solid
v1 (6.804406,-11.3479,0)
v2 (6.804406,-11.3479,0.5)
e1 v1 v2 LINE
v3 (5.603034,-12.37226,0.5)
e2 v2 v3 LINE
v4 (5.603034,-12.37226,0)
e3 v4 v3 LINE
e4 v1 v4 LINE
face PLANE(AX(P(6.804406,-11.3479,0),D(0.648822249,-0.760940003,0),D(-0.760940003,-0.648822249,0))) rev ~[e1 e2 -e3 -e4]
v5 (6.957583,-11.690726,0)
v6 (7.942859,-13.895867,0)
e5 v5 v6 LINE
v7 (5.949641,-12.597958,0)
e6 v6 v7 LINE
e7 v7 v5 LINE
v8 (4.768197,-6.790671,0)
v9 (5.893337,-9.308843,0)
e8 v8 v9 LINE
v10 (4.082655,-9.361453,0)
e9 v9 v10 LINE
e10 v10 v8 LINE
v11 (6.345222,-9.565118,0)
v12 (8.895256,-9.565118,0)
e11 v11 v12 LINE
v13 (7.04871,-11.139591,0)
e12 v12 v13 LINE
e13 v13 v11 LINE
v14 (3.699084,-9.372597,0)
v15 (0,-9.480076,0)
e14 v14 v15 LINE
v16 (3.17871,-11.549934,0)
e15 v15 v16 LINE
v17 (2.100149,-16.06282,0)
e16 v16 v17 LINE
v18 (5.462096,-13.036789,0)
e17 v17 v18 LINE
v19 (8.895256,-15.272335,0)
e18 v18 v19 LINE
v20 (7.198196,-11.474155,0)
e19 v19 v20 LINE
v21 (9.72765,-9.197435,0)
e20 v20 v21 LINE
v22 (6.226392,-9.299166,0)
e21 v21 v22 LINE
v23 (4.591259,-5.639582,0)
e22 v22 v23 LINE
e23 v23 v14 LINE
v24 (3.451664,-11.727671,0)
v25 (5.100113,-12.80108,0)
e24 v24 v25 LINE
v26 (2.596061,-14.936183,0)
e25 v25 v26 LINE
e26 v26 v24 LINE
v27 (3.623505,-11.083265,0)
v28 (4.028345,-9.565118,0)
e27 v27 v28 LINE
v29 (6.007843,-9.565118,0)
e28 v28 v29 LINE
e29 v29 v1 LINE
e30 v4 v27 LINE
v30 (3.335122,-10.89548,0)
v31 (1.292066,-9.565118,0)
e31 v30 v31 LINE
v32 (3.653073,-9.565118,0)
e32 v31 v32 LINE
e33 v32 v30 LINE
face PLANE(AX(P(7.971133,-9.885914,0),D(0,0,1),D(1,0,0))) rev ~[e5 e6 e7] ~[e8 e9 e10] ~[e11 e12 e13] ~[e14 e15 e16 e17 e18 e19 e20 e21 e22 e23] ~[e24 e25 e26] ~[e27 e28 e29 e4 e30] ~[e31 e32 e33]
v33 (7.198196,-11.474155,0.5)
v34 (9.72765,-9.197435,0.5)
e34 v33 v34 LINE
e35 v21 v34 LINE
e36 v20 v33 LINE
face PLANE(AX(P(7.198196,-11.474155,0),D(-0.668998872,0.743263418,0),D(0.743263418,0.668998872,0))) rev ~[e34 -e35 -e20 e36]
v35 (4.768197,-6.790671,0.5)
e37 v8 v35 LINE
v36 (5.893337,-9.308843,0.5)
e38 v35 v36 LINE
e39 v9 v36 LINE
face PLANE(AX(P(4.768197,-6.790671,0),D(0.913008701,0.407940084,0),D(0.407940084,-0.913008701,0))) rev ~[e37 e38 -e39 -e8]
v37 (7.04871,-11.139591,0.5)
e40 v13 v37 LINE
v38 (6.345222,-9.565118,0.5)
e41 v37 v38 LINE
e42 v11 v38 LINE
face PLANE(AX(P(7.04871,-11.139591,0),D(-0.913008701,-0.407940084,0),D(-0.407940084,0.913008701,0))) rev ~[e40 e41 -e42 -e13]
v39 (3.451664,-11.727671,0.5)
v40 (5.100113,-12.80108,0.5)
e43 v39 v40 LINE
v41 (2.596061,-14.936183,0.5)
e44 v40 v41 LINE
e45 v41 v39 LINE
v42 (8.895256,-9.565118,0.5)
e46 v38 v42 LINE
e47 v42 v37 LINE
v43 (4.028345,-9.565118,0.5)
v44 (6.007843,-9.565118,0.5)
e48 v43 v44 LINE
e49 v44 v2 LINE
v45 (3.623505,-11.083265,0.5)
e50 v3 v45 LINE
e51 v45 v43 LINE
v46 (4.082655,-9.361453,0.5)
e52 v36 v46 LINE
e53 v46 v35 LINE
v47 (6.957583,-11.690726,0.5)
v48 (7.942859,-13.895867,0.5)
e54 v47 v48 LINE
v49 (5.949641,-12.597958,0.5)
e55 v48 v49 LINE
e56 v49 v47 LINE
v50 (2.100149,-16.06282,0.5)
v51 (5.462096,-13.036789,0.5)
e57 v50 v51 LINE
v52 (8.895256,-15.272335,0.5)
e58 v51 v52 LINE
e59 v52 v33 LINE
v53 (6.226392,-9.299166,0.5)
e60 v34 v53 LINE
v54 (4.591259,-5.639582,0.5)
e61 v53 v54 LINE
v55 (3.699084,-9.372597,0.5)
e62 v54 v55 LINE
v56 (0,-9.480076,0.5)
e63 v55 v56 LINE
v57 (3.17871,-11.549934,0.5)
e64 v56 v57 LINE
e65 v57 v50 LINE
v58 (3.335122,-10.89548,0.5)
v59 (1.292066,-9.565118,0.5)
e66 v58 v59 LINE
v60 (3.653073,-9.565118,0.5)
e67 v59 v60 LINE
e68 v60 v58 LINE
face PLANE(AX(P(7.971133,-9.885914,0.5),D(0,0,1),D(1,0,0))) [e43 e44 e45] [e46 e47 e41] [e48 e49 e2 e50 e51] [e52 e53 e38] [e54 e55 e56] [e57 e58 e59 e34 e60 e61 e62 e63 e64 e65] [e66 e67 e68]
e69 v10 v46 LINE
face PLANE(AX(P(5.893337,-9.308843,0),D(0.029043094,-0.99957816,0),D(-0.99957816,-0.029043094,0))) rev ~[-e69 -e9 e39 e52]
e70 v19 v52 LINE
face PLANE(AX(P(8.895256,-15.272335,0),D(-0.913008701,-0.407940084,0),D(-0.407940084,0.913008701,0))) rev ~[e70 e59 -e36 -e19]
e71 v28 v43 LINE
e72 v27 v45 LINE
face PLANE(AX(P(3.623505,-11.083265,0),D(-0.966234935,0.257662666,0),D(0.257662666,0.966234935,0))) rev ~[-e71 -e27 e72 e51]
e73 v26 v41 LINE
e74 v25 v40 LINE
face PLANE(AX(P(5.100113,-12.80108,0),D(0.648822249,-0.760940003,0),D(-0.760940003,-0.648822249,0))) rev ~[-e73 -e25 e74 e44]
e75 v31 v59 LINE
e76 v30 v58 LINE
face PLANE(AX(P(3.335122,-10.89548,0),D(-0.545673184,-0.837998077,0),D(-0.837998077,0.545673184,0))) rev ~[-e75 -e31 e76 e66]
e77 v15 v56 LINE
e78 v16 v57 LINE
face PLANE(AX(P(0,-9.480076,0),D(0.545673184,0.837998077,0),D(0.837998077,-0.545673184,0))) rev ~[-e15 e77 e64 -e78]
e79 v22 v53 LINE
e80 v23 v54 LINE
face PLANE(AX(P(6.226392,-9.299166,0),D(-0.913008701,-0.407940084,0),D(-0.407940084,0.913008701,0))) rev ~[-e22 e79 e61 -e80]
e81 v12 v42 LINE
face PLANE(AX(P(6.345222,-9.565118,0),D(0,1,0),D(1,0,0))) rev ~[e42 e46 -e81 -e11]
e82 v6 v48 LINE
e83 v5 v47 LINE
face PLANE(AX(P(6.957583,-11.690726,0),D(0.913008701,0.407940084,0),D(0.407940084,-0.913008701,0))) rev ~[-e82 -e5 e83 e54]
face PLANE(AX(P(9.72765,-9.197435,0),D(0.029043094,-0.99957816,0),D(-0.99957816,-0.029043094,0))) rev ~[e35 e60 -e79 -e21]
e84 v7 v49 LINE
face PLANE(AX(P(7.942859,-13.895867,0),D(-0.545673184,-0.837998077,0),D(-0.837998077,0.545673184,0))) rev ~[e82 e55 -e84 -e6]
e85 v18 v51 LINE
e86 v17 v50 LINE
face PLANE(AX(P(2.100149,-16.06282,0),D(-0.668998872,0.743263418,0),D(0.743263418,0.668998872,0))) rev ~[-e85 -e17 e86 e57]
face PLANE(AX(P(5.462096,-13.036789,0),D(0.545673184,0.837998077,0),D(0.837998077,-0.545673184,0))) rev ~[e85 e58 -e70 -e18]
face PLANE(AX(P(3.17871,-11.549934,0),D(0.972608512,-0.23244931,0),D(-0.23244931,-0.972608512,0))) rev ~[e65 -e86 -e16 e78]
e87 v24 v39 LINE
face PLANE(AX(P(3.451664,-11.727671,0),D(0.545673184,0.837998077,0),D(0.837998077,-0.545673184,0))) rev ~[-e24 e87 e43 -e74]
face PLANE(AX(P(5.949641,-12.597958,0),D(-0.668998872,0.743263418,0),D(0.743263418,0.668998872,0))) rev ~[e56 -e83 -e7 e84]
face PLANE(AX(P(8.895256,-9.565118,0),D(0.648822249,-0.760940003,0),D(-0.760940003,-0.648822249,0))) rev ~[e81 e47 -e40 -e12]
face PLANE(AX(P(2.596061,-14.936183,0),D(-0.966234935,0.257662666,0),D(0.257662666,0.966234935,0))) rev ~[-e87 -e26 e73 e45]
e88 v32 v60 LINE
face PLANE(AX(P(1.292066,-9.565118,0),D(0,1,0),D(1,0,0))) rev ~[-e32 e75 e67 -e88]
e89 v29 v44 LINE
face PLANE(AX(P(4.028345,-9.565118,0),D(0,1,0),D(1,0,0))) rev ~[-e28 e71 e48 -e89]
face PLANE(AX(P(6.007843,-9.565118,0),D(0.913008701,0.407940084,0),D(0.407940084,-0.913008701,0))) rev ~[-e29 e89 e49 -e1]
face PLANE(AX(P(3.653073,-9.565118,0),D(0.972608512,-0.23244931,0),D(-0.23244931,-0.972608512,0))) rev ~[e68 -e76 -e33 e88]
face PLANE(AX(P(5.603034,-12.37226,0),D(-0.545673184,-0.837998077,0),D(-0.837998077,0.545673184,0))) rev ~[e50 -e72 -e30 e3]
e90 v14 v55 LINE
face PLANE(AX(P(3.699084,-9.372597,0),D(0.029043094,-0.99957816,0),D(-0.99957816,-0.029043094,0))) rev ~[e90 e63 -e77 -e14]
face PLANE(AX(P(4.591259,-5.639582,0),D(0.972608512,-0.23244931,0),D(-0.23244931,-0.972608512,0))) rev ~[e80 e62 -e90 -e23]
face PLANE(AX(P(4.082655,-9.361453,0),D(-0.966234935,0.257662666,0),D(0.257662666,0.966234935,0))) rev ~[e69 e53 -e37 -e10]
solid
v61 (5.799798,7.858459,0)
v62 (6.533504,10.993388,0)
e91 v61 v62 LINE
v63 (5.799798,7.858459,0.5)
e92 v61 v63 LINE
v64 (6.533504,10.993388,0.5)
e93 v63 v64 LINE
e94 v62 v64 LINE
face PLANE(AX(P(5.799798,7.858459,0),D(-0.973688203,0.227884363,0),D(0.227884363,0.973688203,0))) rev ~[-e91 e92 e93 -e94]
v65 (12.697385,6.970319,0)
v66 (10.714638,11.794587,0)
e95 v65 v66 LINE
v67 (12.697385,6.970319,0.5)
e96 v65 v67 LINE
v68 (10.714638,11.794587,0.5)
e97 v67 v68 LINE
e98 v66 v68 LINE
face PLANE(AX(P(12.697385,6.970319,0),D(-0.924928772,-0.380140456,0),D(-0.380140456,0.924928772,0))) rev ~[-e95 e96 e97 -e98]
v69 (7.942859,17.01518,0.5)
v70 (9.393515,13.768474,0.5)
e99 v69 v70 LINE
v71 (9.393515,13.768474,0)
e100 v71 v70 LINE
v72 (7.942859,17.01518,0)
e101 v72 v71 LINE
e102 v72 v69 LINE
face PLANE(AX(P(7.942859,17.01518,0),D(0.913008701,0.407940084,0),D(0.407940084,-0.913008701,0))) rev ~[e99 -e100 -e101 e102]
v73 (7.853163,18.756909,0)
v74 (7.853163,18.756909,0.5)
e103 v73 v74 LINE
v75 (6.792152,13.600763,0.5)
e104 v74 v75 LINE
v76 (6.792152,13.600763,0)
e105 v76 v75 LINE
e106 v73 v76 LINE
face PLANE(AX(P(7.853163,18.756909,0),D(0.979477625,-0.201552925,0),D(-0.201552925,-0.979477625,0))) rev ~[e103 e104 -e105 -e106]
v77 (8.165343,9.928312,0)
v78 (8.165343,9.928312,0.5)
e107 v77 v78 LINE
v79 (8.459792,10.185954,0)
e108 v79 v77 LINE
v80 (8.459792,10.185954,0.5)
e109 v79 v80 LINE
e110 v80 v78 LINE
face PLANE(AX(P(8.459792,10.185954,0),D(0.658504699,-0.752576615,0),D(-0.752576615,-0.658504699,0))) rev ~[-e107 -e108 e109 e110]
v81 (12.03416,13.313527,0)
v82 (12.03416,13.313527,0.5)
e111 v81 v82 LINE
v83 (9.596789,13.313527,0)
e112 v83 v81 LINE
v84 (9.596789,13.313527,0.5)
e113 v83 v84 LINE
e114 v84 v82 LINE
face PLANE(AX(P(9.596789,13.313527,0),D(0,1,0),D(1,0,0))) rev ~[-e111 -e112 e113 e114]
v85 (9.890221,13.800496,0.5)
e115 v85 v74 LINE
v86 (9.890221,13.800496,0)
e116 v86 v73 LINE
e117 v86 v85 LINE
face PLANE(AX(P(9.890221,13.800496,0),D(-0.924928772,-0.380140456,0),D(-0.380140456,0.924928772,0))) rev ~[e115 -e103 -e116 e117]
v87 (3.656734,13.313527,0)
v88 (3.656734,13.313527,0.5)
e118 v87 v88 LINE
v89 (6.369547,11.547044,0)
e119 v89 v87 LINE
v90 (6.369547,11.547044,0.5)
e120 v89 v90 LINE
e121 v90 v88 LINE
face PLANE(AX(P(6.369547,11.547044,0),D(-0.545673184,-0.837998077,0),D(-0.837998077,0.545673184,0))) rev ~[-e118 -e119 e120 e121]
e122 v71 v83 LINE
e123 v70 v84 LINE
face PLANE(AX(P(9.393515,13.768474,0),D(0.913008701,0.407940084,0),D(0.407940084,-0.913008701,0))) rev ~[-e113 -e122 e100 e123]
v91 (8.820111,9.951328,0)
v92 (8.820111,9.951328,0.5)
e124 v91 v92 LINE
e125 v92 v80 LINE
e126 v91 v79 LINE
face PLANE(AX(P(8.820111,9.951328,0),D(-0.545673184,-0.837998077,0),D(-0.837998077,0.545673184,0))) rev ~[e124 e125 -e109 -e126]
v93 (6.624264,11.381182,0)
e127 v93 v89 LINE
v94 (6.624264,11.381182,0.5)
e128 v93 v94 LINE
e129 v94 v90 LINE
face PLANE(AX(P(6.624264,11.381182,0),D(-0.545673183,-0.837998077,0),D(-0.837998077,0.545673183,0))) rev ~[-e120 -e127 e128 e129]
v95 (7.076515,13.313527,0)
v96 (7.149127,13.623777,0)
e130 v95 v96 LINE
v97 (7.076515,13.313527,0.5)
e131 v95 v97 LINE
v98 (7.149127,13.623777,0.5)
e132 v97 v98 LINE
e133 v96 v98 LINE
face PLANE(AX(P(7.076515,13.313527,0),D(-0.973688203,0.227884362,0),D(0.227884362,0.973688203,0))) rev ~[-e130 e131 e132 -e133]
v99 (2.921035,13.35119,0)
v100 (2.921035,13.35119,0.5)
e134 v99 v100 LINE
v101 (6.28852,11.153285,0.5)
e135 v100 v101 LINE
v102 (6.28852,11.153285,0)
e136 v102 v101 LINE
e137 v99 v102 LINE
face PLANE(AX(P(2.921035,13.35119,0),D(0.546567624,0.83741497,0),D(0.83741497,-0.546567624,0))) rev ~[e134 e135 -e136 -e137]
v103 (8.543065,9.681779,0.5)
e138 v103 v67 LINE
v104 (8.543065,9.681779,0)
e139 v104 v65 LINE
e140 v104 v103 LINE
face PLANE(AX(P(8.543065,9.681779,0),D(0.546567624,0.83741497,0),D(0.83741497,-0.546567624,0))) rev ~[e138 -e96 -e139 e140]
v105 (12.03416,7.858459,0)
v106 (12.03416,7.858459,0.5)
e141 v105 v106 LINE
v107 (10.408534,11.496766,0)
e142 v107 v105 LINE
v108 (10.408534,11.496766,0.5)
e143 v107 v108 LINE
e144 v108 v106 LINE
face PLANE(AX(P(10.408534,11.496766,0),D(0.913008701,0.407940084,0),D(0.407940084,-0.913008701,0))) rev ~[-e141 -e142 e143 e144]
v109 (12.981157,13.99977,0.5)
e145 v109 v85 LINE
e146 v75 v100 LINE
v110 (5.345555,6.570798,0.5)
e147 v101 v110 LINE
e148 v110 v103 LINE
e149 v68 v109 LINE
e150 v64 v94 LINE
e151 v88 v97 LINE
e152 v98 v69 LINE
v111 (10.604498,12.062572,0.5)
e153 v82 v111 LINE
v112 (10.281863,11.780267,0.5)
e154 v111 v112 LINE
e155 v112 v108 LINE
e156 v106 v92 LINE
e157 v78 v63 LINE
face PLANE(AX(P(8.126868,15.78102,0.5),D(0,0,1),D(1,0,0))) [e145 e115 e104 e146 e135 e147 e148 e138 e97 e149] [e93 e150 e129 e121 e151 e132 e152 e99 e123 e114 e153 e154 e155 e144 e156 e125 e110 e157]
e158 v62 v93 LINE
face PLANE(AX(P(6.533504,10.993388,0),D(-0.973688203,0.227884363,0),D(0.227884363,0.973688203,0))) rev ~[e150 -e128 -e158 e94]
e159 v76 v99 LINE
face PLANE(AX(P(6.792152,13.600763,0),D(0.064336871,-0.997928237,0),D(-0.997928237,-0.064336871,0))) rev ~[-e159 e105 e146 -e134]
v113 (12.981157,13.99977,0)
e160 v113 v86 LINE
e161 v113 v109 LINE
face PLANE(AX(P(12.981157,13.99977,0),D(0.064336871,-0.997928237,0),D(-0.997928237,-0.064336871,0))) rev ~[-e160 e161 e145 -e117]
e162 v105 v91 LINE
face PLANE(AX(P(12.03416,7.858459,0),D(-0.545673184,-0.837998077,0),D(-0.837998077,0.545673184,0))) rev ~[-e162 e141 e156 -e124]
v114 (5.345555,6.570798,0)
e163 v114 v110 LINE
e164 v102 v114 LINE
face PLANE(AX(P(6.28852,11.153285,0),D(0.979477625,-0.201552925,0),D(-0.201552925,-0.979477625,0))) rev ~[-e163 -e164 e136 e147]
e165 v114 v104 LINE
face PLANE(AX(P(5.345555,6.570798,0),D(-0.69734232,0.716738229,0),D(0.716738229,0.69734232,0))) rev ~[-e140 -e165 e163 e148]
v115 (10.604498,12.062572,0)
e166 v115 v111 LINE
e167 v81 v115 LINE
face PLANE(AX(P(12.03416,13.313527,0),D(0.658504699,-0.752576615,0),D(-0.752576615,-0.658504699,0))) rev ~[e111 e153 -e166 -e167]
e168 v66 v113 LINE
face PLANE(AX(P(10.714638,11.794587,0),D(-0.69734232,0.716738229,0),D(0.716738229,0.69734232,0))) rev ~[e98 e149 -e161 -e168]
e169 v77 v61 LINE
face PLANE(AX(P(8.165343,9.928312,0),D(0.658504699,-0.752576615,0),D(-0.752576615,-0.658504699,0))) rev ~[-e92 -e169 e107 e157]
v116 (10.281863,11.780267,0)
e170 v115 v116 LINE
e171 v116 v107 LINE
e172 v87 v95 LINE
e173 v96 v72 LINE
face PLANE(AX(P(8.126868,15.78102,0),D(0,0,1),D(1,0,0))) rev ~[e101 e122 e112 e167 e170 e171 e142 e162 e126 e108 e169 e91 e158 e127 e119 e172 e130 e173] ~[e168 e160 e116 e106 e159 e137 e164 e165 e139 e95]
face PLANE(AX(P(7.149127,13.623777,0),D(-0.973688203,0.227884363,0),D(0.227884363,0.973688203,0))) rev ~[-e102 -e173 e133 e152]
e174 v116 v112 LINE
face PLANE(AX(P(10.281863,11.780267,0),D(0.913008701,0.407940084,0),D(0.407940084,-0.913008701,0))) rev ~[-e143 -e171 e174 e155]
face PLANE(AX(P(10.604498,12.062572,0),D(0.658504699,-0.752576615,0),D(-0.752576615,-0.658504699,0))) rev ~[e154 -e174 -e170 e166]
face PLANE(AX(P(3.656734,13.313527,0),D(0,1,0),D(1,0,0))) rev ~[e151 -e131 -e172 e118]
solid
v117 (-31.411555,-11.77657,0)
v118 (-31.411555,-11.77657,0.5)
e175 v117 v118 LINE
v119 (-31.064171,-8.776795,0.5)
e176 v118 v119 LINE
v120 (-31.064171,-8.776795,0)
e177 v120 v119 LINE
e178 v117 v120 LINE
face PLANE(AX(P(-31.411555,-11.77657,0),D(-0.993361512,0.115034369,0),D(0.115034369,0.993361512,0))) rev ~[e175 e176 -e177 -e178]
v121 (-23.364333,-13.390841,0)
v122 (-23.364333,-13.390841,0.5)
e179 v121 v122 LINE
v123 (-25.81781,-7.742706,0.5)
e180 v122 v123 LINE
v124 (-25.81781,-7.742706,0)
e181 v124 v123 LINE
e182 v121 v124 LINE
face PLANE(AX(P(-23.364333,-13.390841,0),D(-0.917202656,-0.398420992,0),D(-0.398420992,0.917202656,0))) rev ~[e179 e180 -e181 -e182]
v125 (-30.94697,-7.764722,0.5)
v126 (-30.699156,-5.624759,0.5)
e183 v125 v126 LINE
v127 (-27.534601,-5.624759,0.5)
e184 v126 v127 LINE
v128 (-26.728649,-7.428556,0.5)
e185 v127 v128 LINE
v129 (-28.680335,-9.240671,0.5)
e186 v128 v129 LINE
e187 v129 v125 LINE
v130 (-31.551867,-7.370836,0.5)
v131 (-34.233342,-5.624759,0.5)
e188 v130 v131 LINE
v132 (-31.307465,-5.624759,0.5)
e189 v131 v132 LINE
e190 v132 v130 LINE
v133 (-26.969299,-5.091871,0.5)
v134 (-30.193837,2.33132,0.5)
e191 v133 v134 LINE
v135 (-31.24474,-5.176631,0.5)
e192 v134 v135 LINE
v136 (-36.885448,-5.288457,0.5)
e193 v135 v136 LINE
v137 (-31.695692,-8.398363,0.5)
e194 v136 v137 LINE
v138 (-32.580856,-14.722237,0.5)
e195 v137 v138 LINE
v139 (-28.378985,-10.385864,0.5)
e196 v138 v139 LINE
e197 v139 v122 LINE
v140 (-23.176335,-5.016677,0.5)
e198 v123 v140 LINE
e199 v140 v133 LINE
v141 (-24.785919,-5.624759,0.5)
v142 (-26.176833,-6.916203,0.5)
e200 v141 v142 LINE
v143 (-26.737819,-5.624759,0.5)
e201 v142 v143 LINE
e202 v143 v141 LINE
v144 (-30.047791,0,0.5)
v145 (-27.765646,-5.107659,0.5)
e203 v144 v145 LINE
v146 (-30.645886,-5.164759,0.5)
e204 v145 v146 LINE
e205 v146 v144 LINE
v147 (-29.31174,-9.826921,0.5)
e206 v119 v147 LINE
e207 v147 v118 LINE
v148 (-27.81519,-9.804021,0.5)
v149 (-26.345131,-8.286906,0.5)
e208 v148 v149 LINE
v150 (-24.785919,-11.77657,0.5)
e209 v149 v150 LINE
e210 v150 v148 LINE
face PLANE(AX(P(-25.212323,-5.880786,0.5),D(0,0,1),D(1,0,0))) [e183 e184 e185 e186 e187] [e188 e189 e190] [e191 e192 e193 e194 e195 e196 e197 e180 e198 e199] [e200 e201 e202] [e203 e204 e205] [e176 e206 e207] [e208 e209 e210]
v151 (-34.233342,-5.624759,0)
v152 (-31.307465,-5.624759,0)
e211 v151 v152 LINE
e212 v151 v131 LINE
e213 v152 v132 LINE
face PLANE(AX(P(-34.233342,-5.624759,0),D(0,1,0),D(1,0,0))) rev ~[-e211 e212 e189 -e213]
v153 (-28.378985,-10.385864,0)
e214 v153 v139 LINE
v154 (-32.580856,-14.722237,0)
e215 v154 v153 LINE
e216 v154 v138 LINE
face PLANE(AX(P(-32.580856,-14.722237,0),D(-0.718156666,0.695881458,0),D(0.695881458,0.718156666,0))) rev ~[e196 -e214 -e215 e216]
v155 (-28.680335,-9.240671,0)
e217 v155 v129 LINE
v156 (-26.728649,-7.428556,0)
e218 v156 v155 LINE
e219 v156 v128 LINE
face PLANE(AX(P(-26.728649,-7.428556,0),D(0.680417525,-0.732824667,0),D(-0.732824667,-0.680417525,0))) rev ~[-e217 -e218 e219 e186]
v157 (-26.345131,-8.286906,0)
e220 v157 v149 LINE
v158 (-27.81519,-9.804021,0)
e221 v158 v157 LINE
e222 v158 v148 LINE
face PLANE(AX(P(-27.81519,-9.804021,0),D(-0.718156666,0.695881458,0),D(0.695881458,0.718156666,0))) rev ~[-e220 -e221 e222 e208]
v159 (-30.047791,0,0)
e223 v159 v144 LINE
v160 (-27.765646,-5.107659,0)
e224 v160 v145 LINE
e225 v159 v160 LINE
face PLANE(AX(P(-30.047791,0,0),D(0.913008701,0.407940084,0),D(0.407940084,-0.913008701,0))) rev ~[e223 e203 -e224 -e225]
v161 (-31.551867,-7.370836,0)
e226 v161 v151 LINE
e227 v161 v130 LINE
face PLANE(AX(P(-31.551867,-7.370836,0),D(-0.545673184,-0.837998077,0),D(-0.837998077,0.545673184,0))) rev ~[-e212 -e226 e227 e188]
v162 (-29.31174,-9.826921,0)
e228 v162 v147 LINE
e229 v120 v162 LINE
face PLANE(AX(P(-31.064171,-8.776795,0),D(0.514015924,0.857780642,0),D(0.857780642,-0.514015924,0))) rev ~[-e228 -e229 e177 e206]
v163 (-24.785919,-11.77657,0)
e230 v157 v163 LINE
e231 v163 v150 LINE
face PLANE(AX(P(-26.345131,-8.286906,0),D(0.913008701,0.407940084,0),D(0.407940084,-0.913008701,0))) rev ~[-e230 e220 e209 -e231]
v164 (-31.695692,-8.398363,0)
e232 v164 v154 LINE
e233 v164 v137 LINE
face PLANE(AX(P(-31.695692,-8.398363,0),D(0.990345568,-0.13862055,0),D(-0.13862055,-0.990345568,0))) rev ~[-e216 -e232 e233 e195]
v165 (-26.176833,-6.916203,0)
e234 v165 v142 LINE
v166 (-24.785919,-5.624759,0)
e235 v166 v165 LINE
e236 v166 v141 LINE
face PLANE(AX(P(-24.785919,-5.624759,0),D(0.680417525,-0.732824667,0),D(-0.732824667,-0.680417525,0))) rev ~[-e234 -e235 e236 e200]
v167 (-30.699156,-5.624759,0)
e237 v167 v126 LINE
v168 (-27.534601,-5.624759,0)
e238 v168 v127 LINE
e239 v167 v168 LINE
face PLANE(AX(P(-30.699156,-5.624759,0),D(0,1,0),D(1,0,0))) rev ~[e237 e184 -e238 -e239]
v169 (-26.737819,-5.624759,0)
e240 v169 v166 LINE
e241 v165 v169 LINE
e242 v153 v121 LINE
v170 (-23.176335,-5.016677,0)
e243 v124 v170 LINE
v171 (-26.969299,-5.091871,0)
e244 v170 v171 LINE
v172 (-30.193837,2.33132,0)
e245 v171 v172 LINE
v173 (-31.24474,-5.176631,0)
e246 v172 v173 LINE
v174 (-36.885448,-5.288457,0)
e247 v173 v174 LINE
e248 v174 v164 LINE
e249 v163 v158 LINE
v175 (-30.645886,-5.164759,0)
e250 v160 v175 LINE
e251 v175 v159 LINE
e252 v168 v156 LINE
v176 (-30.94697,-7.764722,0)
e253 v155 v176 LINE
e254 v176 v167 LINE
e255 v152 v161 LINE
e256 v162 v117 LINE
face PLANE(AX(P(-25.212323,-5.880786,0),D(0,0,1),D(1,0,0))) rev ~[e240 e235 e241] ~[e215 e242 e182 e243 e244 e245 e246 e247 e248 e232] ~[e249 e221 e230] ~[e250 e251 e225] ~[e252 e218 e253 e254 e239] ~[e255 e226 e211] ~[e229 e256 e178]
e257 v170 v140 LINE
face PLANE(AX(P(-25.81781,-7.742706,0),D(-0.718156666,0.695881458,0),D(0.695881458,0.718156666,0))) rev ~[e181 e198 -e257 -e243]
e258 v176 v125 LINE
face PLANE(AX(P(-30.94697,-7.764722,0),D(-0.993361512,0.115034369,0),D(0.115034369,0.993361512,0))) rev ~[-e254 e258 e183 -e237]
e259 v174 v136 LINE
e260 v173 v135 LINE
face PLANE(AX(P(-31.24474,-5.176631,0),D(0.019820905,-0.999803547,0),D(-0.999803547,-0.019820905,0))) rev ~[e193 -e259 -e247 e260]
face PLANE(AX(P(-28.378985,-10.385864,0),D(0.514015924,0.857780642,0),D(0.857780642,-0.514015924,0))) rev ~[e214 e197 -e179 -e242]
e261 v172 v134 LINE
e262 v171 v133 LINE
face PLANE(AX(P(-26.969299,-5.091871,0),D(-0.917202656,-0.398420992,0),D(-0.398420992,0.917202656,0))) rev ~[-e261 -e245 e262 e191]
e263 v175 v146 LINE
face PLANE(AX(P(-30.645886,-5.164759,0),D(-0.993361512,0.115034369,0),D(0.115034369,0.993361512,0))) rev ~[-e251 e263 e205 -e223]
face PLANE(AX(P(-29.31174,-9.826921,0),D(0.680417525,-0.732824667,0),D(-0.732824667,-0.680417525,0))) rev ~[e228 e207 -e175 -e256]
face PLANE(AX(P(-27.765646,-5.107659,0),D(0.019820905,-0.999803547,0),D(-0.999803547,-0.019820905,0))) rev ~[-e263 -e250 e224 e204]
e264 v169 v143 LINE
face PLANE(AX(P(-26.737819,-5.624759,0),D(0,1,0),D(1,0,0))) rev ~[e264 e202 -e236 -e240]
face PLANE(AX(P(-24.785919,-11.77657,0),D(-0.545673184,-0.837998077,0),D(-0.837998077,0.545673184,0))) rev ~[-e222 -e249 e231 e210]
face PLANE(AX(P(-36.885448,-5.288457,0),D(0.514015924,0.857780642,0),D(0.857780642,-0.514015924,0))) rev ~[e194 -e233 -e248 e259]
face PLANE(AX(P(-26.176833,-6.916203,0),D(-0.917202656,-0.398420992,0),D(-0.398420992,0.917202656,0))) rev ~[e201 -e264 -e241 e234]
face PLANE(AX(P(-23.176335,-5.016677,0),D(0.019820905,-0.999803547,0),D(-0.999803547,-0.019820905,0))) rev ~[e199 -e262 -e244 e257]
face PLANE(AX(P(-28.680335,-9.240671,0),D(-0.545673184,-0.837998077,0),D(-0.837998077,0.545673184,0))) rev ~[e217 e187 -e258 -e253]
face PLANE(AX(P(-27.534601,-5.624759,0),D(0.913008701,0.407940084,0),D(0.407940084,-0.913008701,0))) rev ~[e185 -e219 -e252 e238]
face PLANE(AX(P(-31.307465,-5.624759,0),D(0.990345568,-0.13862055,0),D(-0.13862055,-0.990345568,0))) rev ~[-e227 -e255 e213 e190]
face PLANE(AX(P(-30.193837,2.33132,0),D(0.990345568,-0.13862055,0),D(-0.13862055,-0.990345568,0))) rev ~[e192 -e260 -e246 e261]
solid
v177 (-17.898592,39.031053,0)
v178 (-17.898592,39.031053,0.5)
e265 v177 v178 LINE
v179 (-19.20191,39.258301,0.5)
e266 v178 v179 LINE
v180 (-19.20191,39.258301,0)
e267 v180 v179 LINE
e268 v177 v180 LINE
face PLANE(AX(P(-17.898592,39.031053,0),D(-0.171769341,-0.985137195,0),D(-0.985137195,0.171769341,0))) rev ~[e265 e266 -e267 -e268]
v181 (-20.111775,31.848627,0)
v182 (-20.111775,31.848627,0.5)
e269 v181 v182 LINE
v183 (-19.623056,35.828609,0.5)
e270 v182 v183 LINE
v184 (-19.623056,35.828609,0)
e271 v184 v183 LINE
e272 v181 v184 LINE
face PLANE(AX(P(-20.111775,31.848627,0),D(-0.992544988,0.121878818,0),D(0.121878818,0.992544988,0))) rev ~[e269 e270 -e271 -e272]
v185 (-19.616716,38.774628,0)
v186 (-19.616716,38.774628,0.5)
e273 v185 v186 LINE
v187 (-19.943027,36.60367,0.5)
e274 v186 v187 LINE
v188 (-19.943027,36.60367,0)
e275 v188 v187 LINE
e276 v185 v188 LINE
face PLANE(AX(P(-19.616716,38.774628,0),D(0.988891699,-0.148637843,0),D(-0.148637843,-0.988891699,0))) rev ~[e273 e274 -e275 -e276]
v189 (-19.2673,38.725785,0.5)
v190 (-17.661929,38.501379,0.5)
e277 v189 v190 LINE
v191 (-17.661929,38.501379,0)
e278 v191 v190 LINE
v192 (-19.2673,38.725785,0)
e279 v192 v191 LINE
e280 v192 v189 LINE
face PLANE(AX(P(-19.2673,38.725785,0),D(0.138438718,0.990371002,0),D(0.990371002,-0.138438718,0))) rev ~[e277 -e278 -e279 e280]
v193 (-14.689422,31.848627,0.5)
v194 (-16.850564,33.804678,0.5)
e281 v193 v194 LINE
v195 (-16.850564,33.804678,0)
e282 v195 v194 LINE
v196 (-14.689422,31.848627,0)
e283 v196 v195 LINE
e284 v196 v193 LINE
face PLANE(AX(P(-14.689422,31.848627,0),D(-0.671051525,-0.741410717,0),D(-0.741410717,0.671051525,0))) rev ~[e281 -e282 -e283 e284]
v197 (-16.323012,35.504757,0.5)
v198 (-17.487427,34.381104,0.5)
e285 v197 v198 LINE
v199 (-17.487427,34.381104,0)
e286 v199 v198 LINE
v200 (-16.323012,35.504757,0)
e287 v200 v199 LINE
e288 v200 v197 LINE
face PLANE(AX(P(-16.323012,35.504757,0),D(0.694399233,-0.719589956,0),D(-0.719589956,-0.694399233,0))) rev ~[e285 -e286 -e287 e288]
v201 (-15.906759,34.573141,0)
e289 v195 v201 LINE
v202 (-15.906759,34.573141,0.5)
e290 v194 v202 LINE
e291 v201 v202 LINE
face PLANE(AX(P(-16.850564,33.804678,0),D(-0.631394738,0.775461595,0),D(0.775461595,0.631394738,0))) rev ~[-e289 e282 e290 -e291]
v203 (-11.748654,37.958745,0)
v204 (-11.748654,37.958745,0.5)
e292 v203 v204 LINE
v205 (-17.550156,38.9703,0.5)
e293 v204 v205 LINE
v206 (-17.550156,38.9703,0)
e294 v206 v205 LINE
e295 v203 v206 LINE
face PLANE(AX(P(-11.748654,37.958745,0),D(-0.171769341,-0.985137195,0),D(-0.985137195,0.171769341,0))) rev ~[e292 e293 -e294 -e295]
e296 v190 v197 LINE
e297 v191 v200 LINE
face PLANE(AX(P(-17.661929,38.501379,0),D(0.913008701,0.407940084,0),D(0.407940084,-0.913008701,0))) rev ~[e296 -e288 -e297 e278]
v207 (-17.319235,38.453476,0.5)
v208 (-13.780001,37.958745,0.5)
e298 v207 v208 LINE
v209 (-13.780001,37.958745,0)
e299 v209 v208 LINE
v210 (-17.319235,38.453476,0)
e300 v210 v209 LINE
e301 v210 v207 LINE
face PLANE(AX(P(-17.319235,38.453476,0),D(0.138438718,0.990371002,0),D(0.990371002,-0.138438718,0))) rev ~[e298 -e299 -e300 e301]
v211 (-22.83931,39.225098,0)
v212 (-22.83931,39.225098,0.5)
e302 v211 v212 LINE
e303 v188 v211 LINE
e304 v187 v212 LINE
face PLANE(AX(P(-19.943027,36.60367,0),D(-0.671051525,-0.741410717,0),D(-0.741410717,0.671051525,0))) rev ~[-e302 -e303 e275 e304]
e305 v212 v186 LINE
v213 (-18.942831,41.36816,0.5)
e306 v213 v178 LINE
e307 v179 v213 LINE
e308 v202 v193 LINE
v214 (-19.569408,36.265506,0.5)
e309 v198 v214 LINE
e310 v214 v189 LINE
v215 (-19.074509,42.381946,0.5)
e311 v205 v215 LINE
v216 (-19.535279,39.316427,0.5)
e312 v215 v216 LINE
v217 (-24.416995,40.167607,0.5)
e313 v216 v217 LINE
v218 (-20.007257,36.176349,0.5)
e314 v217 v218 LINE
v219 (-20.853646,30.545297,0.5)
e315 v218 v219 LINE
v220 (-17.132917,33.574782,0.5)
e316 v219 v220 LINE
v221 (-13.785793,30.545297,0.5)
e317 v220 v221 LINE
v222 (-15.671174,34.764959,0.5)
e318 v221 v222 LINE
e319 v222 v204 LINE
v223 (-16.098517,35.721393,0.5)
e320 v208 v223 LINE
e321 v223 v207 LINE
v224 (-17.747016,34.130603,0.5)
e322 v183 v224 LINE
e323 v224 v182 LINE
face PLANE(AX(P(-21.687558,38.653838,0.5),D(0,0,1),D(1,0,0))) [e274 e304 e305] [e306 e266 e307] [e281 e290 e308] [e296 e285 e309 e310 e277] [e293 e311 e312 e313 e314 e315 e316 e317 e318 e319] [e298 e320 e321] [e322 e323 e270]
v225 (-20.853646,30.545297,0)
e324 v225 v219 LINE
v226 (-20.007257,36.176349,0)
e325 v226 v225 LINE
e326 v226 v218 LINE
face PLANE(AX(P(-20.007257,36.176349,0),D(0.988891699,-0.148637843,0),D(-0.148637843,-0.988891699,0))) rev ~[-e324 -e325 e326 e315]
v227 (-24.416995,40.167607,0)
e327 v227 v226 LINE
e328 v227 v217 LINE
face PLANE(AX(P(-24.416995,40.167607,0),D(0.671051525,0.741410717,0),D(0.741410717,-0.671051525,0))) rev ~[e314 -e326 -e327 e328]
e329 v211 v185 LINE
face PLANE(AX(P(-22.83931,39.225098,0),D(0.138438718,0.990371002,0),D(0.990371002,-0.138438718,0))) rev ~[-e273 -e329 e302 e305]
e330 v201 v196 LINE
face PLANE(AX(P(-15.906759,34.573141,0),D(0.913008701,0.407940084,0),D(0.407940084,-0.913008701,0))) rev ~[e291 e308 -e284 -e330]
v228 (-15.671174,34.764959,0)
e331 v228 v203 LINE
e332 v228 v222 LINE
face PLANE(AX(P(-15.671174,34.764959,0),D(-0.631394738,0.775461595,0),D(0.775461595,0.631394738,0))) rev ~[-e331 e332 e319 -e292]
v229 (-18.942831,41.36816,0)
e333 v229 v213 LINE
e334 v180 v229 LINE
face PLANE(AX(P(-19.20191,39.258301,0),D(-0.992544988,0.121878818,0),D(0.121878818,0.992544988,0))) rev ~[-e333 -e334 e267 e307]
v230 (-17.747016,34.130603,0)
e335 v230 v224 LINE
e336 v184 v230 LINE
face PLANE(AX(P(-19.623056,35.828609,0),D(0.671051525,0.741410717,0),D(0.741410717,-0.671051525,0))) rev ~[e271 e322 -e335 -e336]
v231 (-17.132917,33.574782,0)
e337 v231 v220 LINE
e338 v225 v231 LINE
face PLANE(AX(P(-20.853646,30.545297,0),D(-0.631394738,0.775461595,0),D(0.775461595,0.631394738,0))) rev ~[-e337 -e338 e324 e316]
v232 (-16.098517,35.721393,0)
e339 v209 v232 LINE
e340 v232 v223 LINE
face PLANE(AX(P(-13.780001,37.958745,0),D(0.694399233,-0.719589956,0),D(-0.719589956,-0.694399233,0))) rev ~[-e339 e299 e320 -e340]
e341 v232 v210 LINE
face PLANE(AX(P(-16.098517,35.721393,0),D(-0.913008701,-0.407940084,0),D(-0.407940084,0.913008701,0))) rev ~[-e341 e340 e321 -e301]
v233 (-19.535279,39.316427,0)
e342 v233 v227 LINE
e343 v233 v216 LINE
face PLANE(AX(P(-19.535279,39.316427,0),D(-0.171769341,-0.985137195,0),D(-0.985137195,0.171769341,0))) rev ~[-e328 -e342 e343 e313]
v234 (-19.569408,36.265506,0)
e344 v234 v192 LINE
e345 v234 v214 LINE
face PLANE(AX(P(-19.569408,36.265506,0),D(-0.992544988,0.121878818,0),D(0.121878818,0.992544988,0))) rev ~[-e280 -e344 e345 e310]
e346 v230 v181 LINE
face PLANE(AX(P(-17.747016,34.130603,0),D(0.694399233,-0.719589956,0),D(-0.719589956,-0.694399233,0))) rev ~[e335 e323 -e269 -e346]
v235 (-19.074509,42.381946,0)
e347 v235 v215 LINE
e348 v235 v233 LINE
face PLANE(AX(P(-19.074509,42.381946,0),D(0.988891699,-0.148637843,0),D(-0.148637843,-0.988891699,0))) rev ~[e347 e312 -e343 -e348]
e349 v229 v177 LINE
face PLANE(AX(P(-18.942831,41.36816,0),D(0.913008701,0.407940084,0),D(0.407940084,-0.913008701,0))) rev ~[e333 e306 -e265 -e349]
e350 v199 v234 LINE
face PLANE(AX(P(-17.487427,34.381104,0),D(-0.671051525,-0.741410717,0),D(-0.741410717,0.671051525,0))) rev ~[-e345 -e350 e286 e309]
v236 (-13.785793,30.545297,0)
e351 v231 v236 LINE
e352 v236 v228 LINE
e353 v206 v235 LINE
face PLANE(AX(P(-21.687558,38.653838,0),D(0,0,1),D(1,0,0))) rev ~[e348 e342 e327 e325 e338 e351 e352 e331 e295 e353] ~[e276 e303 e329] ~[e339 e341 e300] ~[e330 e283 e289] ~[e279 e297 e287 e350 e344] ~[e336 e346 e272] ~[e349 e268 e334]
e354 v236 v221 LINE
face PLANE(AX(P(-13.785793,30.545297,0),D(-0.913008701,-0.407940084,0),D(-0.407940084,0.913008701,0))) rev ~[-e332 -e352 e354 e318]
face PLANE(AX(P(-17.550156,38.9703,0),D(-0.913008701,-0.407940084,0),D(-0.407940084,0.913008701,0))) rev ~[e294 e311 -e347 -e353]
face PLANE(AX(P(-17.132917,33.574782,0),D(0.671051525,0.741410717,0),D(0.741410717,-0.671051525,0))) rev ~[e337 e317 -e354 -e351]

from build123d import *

# Parameters (mm, degrees)
F1_DEPTH = 0.5
F2_DEPTH = 0.5
F3_DEPTH = 0.5
F4_DEPTH = 0.5


with BuildPart() as f1:
    # F0 (on Top) → F1 (new body)
    with BuildSketch(Plane.XY):
        Polygon((-19.6167158214, 38.774628421), (-19.5352793666, 39.3164274172), (-24.4169946969, 40.1676073624), (-20.0072566577, 36.176349387), (-19.9430271905, 36.6036698165), (-22.8393096477, 39.2250977457), align=None)
        Polygon((-19.2672995463, 38.7257853704), (-19.2019097122, 39.2583008069), (-19.5352793666, 39.3164274172), (-19.6167158214, 38.774628421), align=None)
        Polygon((-19.2019097122, 39.2583008069), (-18.9428310841, 41.3681603968), (-17.8985916241, 39.0310531811), (-17.5501562208, 38.9702996944), (-19.0745089203, 42.3819459975), (-19.5352793666, 39.3164274172), align=None)
        Polygon((-17.5501562208, 38.9702996944), (-17.8985916241, 39.0310531811), (-17.6619287146, 38.5013790836), (-17.3192348579, 38.4534757243), align=None)
        Polygon((-17.6619287146, 38.5013790836), (-17.8985916241, 39.0310531811), (-19.2019097122, 39.2583008069), (-19.2672995463, 38.7257853704), align=None)
        Polygon((-11.7486538365, 37.9587449133), (-17.5501562208, 38.9702996944), (-17.3192348579, 38.4534757243), (-13.7800006196, 37.9587449133), (-16.0985169635, 35.7213929896), (-15.6711739502, 34.7649586869), align=None)
        Polygon((-17.3192348579, 38.4534757243), (-17.6619287146, 38.5013790836), (-16.3230122226, 35.5047566474), (-16.0985169635, 35.7213929896), align=None)
        Polygon((-16.0985169635, 35.7213929896), (-16.3230122226, 35.5047566474), (-15.9067585949, 34.573141444), (-15.6711739502, 34.7649586869), align=None)
        Polygon((-15.6711739502, 34.7649586869), (-15.9067585949, 34.573141444), (-14.6894223923, 31.8486272574), (-16.850563786, 33.8046783304), (-17.1329166357, 33.5747815762), (-13.7857930403, 30.545296916), align=None)
        Polygon((-15.9067585949, 34.573141444), (-16.3230122226, 35.5047566474), (-17.487427419, 34.3811041934), (-16.850563786, 33.8046783304), align=None)
        Polygon((-20.1117750257, 31.8486272574), (-19.623056132, 35.828609136), (-20.0072566577, 36.176349387), (-20.8536460996, 30.545296916), (-17.1329166357, 33.5747815762), (-17.7470157672, 34.1306032677), align=None)
        Polygon((-19.569407656, 36.2655064304), (-19.2672995463, 38.7257853704), (-19.6167158214, 38.774628421), (-19.9430271905, 36.6036698165), align=None)
        Polygon((-19.623056132, 35.828609136), (-19.569407656, 36.2655064304), (-19.9430271905, 36.6036698165), (-20.0072566577, 36.176349387), align=None)
        Polygon((-17.487427419, 34.3811041934), (-19.569407656, 36.2655064304), (-19.623056132, 35.828609136), (-17.7470157672, 34.1306032677), align=None)
        Polygon((-16.850563786, 33.8046783304), (-17.487427419, 34.3811041934), (-17.7470157672, 34.1306032677), (-17.1329166357, 33.5747815762), align=None)
    extrude(amount=F1_DEPTH)


with BuildPart() as f2:
    # F0 (on Top) → F2 (new body)
    with BuildSketch(Plane.XY):
        Polygon((9.727650322, -9.1974353418), (6.2263924098, -9.2991656192), (6.3452222104, -9.5651180134), (8.8952556252, -9.5651180134), (7.0487103065, -11.1395912723), (7.1981960204, -11.4741545155), align=None)
        Polygon((7.1981960204, -11.4741545155), (6.9575831839, -11.6907260732), (7.9428590834, -13.8958672333), (5.9496410632, -12.5979577836), (5.4620956469, -13.0367891934), (8.8952556252, -15.2723352968), align=None)
        Polygon((2.5960605126, -14.9361826479), (3.4516637515, -11.7276707083), (3.1787102129, -11.5499335147), (2.1001494024, -16.0628203303), (5.4620956469, -13.0367891934), (5.1001133386, -12.8010797758), align=None)
        Polygon((3.6530727004, -9.5651180134), (3.6990843002, -9.3725974433), (0, -9.4800756359), (3.1787102129, -11.5499335147), (3.3351218093, -10.8954800758), (1.2920658497, -9.5651180134), align=None)
        Polygon((4.0826552732, -9.3614526541), (4.768196959, -6.7906714976), (5.8933373326, -9.3088426514), (6.2263924098, -9.2991656192), (4.591259174, -5.6395819411), (3.6990843002, -9.3725974433), align=None)
        Polygon((6.2263924098, -9.2991656192), (5.8933373326, -9.3088426514), (6.0078433527, -9.5651180134), (6.3452222104, -9.5651180134), align=None)
        Polygon((4.0283445073, -9.5651180134), (4.0826552732, -9.3614526541), (3.6990843002, -9.3725974433), (3.6530727004, -9.5651180134), align=None)
        Polygon((3.4516637515, -11.7276707083), (3.6235053597, -11.0832647192), (3.3351218093, -10.8954800758), (3.1787102129, -11.5499335147), align=None)
        Polygon((5.9496410632, -12.5979577836), (5.6030339038, -12.3722600912), (5.1001133386, -12.8010797758), (5.4620956469, -13.0367891934), align=None)
        Polygon((7.0487103065, -11.1395912723), (6.8044055273, -11.3478999111), (6.9575831839, -11.6907260732), (7.1981960204, -11.4741545155), align=None)
        Polygon((6.3452222104, -9.5651180134), (6.0078433527, -9.5651180134), (6.8044055273, -11.3478999111), (7.0487103065, -11.1395912723), align=None)
        Polygon((6.9575831839, -11.6907260732), (6.8044055273, -11.3478999111), (5.6030339038, -12.3722600912), (5.9496410632, -12.5979577836), align=None)
        Polygon((5.6030339038, -12.3722600912), (3.6235053597, -11.0832647192), (3.4516637515, -11.7276707083), (5.1001133386, -12.8010797758), align=None)
        Polygon((3.6235053597, -11.0832647192), (4.0283445073, -9.5651180134), (3.6530727004, -9.5651180134), (3.3351218093, -10.8954800758), align=None)
        Polygon((6.0078433527, -9.5651180134), (5.8933373326, -9.3088426514), (4.0826552732, -9.3614526541), (4.0283445073, -9.5651180134), align=None)
    extrude(amount=F2_DEPTH)


with BuildPart() as f3:
    # F0 (on Top) → F3 (new body)
    with BuildSketch(Plane.XY):
        Polygon((7.1491269104, 13.6237768702), (7.9428590834, 17.0151796192), (9.3935150739, 13.7684735591), (9.8902208701, 13.8004963996), (7.8531634063, 18.7569092959), (6.7921524895, 13.6007625727), align=None)
        Polygon((9.8902208701, 13.8004963996), (9.3935150739, 13.7684735591), (9.5967889834, 13.313527219), (10.0903624291, 13.313527219), align=None)
        Polygon((12.9811568186, 13.9997703955), (9.8902208701, 13.8004963996), (10.0903624291, 13.313527219), (12.034160085, 13.313527219), (10.6044977469, 12.0625723662), (10.7146382492, 11.7945868941), align=None)
        Polygon((10.6044977469, 12.0625723662), (10.2818628483, 11.7802667606), (10.4085335129, 11.4967657673), (10.7146382492, 11.7945868941), align=None)
        Polygon((10.7146382492, 11.7945868941), (10.4085335129, 11.4967657673), (12.034160085, 7.8584589064), (8.8201110132, 9.9513281359), (8.5430646382, 9.6817790117), (12.6973846927, 6.9703194313), align=None)
        Polygon((8.8201110132, 9.9513281359), (8.4597920659, 10.1859544347), (8.1653433701, 9.9283117626), (8.5430646382, 9.6817790117), align=None)
        Polygon((5.7997978292, 7.8584589064), (6.5335041921, 10.993387615), (6.2885204346, 11.1532846734), (5.3455550224, 6.5707983449), (8.5430646382, 9.6817790117), (8.1653433701, 9.9283117626), align=None)
        Polygon((6.5335041921, 10.993387615), (6.6242644754, 11.3811817409), (6.3695467247, 11.5470444675), (6.2885204346, 11.1532846734), align=None)
        Polygon((6.7330463658, 13.313527219), (6.7921524895, 13.6007625727), (2.921034582, 13.3511899039), (6.2885204346, 11.1532846734), (6.3695467247, 11.5470444675), (3.6567340139, 13.313527219), align=None)
        Polygon((7.0765153252, 13.313527219), (7.1491269104, 13.6237768702), (6.7921524895, 13.6007625727), (6.7330463658, 13.313527219), align=None)
    extrude(amount=F3_DEPTH)


with BuildPart() as f4:
    # F0 (on Top) → F4 (new body)
    with BuildSketch(Plane.XY):
        Polygon((-23.1763347983, -5.0166766159), (-26.9692986834, -5.0918713644), (-26.7378190997, -5.624759172), (-24.7859191842, -5.624759172), (-26.1768325942, -6.9162029543), (-25.8178103555, -7.7427059688), align=None)
        Polygon((-26.1768325942, -6.9162029543), (-26.7286486181, -7.428556468), (-26.345130752, -8.2869059238), (-25.8178103555, -7.7427059688), align=None)
        Polygon((-26.345130752, -8.2869059238), (-26.7286486181, -7.428556468), (-28.6803354887, -9.2406706195), (-27.8151896014, -9.8040214478), align=None)
        Polygon((-27.8151896014, -9.8040214478), (-28.6803354887, -9.2406706195), (-29.3117399448, -9.8269208872), (-28.3789852405, -10.38586422), align=None)
        Polygon((-31.4115546644, -11.7765696891), (-31.064171377, -8.7767949957), (-31.6956915622, -8.3983632435), (-32.5808562338, -14.7222373635), (-28.3789852405, -10.38586422), (-29.3117399448, -9.8269208872), align=None)
        Polygon((-28.6803354887, -9.2406706195), (-30.9469702048, -7.7647223854), (-31.064171377, -8.7767949957), (-29.3117399448, -9.8269208872), align=None)
        Polygon((-31.064171377, -8.7767949957), (-30.9469702048, -7.7647223854), (-31.5518666652, -7.3708363057), (-31.6956915622, -8.3983632435), align=None)
        Polygon((-31.3074649324, -5.624759172), (-31.2447395983, -5.1766311232), (-36.8854478002, -5.2884570323), (-31.6956915622, -8.3983632435), (-31.5518666652, -7.3708363057), (-34.2333421781, -5.624759172), align=None)
        Polygon((-30.9469702048, -7.7647223854), (-30.6991557748, -5.624759172), (-31.3074649324, -5.624759172), (-31.5518666652, -7.3708363057), align=None)
        Polygon((-30.6458863142, -5.164758977), (-30.0477910787, 0), (-27.7656455223, -5.1076587808), (-26.9692986834, -5.0918713644), (-30.1938373595, 2.3313204292), (-31.2447395983, -5.1766311232), align=None)
        Polygon((-25.8178103555, -7.7427059688), (-26.345130752, -8.2869059238), (-24.7859191842, -11.7765696891), (-27.8151896014, -9.8040214478), (-28.3789852405, -10.38586422), (-23.3643334359, -13.3908409625), align=None)
        Polygon((-26.9692986834, -5.0918713644), (-27.7656455223, -5.1076587808), (-27.5346006521, -5.624759172), (-26.7378190997, -5.624759172), align=None)
        Polygon((-26.7378190997, -5.624759172), (-27.5346006521, -5.624759172), (-26.7286486181, -7.428556468), (-26.1768325942, -6.9162029543), align=None)
        Polygon((-27.5346006521, -5.624759172), (-27.7656455223, -5.1076587808), (-30.6458863142, -5.164758977), (-30.6991557748, -5.624759172), align=None)
        Polygon((-30.6991557748, -5.624759172), (-30.6458863142, -5.164758977), (-31.2447395983, -5.1766311232), (-31.3074649324, -5.624759172), align=None)
    extrude(amount=F4_DEPTH)


solid = Compound([f1.part, f2.part, f3.part, f4.part])
